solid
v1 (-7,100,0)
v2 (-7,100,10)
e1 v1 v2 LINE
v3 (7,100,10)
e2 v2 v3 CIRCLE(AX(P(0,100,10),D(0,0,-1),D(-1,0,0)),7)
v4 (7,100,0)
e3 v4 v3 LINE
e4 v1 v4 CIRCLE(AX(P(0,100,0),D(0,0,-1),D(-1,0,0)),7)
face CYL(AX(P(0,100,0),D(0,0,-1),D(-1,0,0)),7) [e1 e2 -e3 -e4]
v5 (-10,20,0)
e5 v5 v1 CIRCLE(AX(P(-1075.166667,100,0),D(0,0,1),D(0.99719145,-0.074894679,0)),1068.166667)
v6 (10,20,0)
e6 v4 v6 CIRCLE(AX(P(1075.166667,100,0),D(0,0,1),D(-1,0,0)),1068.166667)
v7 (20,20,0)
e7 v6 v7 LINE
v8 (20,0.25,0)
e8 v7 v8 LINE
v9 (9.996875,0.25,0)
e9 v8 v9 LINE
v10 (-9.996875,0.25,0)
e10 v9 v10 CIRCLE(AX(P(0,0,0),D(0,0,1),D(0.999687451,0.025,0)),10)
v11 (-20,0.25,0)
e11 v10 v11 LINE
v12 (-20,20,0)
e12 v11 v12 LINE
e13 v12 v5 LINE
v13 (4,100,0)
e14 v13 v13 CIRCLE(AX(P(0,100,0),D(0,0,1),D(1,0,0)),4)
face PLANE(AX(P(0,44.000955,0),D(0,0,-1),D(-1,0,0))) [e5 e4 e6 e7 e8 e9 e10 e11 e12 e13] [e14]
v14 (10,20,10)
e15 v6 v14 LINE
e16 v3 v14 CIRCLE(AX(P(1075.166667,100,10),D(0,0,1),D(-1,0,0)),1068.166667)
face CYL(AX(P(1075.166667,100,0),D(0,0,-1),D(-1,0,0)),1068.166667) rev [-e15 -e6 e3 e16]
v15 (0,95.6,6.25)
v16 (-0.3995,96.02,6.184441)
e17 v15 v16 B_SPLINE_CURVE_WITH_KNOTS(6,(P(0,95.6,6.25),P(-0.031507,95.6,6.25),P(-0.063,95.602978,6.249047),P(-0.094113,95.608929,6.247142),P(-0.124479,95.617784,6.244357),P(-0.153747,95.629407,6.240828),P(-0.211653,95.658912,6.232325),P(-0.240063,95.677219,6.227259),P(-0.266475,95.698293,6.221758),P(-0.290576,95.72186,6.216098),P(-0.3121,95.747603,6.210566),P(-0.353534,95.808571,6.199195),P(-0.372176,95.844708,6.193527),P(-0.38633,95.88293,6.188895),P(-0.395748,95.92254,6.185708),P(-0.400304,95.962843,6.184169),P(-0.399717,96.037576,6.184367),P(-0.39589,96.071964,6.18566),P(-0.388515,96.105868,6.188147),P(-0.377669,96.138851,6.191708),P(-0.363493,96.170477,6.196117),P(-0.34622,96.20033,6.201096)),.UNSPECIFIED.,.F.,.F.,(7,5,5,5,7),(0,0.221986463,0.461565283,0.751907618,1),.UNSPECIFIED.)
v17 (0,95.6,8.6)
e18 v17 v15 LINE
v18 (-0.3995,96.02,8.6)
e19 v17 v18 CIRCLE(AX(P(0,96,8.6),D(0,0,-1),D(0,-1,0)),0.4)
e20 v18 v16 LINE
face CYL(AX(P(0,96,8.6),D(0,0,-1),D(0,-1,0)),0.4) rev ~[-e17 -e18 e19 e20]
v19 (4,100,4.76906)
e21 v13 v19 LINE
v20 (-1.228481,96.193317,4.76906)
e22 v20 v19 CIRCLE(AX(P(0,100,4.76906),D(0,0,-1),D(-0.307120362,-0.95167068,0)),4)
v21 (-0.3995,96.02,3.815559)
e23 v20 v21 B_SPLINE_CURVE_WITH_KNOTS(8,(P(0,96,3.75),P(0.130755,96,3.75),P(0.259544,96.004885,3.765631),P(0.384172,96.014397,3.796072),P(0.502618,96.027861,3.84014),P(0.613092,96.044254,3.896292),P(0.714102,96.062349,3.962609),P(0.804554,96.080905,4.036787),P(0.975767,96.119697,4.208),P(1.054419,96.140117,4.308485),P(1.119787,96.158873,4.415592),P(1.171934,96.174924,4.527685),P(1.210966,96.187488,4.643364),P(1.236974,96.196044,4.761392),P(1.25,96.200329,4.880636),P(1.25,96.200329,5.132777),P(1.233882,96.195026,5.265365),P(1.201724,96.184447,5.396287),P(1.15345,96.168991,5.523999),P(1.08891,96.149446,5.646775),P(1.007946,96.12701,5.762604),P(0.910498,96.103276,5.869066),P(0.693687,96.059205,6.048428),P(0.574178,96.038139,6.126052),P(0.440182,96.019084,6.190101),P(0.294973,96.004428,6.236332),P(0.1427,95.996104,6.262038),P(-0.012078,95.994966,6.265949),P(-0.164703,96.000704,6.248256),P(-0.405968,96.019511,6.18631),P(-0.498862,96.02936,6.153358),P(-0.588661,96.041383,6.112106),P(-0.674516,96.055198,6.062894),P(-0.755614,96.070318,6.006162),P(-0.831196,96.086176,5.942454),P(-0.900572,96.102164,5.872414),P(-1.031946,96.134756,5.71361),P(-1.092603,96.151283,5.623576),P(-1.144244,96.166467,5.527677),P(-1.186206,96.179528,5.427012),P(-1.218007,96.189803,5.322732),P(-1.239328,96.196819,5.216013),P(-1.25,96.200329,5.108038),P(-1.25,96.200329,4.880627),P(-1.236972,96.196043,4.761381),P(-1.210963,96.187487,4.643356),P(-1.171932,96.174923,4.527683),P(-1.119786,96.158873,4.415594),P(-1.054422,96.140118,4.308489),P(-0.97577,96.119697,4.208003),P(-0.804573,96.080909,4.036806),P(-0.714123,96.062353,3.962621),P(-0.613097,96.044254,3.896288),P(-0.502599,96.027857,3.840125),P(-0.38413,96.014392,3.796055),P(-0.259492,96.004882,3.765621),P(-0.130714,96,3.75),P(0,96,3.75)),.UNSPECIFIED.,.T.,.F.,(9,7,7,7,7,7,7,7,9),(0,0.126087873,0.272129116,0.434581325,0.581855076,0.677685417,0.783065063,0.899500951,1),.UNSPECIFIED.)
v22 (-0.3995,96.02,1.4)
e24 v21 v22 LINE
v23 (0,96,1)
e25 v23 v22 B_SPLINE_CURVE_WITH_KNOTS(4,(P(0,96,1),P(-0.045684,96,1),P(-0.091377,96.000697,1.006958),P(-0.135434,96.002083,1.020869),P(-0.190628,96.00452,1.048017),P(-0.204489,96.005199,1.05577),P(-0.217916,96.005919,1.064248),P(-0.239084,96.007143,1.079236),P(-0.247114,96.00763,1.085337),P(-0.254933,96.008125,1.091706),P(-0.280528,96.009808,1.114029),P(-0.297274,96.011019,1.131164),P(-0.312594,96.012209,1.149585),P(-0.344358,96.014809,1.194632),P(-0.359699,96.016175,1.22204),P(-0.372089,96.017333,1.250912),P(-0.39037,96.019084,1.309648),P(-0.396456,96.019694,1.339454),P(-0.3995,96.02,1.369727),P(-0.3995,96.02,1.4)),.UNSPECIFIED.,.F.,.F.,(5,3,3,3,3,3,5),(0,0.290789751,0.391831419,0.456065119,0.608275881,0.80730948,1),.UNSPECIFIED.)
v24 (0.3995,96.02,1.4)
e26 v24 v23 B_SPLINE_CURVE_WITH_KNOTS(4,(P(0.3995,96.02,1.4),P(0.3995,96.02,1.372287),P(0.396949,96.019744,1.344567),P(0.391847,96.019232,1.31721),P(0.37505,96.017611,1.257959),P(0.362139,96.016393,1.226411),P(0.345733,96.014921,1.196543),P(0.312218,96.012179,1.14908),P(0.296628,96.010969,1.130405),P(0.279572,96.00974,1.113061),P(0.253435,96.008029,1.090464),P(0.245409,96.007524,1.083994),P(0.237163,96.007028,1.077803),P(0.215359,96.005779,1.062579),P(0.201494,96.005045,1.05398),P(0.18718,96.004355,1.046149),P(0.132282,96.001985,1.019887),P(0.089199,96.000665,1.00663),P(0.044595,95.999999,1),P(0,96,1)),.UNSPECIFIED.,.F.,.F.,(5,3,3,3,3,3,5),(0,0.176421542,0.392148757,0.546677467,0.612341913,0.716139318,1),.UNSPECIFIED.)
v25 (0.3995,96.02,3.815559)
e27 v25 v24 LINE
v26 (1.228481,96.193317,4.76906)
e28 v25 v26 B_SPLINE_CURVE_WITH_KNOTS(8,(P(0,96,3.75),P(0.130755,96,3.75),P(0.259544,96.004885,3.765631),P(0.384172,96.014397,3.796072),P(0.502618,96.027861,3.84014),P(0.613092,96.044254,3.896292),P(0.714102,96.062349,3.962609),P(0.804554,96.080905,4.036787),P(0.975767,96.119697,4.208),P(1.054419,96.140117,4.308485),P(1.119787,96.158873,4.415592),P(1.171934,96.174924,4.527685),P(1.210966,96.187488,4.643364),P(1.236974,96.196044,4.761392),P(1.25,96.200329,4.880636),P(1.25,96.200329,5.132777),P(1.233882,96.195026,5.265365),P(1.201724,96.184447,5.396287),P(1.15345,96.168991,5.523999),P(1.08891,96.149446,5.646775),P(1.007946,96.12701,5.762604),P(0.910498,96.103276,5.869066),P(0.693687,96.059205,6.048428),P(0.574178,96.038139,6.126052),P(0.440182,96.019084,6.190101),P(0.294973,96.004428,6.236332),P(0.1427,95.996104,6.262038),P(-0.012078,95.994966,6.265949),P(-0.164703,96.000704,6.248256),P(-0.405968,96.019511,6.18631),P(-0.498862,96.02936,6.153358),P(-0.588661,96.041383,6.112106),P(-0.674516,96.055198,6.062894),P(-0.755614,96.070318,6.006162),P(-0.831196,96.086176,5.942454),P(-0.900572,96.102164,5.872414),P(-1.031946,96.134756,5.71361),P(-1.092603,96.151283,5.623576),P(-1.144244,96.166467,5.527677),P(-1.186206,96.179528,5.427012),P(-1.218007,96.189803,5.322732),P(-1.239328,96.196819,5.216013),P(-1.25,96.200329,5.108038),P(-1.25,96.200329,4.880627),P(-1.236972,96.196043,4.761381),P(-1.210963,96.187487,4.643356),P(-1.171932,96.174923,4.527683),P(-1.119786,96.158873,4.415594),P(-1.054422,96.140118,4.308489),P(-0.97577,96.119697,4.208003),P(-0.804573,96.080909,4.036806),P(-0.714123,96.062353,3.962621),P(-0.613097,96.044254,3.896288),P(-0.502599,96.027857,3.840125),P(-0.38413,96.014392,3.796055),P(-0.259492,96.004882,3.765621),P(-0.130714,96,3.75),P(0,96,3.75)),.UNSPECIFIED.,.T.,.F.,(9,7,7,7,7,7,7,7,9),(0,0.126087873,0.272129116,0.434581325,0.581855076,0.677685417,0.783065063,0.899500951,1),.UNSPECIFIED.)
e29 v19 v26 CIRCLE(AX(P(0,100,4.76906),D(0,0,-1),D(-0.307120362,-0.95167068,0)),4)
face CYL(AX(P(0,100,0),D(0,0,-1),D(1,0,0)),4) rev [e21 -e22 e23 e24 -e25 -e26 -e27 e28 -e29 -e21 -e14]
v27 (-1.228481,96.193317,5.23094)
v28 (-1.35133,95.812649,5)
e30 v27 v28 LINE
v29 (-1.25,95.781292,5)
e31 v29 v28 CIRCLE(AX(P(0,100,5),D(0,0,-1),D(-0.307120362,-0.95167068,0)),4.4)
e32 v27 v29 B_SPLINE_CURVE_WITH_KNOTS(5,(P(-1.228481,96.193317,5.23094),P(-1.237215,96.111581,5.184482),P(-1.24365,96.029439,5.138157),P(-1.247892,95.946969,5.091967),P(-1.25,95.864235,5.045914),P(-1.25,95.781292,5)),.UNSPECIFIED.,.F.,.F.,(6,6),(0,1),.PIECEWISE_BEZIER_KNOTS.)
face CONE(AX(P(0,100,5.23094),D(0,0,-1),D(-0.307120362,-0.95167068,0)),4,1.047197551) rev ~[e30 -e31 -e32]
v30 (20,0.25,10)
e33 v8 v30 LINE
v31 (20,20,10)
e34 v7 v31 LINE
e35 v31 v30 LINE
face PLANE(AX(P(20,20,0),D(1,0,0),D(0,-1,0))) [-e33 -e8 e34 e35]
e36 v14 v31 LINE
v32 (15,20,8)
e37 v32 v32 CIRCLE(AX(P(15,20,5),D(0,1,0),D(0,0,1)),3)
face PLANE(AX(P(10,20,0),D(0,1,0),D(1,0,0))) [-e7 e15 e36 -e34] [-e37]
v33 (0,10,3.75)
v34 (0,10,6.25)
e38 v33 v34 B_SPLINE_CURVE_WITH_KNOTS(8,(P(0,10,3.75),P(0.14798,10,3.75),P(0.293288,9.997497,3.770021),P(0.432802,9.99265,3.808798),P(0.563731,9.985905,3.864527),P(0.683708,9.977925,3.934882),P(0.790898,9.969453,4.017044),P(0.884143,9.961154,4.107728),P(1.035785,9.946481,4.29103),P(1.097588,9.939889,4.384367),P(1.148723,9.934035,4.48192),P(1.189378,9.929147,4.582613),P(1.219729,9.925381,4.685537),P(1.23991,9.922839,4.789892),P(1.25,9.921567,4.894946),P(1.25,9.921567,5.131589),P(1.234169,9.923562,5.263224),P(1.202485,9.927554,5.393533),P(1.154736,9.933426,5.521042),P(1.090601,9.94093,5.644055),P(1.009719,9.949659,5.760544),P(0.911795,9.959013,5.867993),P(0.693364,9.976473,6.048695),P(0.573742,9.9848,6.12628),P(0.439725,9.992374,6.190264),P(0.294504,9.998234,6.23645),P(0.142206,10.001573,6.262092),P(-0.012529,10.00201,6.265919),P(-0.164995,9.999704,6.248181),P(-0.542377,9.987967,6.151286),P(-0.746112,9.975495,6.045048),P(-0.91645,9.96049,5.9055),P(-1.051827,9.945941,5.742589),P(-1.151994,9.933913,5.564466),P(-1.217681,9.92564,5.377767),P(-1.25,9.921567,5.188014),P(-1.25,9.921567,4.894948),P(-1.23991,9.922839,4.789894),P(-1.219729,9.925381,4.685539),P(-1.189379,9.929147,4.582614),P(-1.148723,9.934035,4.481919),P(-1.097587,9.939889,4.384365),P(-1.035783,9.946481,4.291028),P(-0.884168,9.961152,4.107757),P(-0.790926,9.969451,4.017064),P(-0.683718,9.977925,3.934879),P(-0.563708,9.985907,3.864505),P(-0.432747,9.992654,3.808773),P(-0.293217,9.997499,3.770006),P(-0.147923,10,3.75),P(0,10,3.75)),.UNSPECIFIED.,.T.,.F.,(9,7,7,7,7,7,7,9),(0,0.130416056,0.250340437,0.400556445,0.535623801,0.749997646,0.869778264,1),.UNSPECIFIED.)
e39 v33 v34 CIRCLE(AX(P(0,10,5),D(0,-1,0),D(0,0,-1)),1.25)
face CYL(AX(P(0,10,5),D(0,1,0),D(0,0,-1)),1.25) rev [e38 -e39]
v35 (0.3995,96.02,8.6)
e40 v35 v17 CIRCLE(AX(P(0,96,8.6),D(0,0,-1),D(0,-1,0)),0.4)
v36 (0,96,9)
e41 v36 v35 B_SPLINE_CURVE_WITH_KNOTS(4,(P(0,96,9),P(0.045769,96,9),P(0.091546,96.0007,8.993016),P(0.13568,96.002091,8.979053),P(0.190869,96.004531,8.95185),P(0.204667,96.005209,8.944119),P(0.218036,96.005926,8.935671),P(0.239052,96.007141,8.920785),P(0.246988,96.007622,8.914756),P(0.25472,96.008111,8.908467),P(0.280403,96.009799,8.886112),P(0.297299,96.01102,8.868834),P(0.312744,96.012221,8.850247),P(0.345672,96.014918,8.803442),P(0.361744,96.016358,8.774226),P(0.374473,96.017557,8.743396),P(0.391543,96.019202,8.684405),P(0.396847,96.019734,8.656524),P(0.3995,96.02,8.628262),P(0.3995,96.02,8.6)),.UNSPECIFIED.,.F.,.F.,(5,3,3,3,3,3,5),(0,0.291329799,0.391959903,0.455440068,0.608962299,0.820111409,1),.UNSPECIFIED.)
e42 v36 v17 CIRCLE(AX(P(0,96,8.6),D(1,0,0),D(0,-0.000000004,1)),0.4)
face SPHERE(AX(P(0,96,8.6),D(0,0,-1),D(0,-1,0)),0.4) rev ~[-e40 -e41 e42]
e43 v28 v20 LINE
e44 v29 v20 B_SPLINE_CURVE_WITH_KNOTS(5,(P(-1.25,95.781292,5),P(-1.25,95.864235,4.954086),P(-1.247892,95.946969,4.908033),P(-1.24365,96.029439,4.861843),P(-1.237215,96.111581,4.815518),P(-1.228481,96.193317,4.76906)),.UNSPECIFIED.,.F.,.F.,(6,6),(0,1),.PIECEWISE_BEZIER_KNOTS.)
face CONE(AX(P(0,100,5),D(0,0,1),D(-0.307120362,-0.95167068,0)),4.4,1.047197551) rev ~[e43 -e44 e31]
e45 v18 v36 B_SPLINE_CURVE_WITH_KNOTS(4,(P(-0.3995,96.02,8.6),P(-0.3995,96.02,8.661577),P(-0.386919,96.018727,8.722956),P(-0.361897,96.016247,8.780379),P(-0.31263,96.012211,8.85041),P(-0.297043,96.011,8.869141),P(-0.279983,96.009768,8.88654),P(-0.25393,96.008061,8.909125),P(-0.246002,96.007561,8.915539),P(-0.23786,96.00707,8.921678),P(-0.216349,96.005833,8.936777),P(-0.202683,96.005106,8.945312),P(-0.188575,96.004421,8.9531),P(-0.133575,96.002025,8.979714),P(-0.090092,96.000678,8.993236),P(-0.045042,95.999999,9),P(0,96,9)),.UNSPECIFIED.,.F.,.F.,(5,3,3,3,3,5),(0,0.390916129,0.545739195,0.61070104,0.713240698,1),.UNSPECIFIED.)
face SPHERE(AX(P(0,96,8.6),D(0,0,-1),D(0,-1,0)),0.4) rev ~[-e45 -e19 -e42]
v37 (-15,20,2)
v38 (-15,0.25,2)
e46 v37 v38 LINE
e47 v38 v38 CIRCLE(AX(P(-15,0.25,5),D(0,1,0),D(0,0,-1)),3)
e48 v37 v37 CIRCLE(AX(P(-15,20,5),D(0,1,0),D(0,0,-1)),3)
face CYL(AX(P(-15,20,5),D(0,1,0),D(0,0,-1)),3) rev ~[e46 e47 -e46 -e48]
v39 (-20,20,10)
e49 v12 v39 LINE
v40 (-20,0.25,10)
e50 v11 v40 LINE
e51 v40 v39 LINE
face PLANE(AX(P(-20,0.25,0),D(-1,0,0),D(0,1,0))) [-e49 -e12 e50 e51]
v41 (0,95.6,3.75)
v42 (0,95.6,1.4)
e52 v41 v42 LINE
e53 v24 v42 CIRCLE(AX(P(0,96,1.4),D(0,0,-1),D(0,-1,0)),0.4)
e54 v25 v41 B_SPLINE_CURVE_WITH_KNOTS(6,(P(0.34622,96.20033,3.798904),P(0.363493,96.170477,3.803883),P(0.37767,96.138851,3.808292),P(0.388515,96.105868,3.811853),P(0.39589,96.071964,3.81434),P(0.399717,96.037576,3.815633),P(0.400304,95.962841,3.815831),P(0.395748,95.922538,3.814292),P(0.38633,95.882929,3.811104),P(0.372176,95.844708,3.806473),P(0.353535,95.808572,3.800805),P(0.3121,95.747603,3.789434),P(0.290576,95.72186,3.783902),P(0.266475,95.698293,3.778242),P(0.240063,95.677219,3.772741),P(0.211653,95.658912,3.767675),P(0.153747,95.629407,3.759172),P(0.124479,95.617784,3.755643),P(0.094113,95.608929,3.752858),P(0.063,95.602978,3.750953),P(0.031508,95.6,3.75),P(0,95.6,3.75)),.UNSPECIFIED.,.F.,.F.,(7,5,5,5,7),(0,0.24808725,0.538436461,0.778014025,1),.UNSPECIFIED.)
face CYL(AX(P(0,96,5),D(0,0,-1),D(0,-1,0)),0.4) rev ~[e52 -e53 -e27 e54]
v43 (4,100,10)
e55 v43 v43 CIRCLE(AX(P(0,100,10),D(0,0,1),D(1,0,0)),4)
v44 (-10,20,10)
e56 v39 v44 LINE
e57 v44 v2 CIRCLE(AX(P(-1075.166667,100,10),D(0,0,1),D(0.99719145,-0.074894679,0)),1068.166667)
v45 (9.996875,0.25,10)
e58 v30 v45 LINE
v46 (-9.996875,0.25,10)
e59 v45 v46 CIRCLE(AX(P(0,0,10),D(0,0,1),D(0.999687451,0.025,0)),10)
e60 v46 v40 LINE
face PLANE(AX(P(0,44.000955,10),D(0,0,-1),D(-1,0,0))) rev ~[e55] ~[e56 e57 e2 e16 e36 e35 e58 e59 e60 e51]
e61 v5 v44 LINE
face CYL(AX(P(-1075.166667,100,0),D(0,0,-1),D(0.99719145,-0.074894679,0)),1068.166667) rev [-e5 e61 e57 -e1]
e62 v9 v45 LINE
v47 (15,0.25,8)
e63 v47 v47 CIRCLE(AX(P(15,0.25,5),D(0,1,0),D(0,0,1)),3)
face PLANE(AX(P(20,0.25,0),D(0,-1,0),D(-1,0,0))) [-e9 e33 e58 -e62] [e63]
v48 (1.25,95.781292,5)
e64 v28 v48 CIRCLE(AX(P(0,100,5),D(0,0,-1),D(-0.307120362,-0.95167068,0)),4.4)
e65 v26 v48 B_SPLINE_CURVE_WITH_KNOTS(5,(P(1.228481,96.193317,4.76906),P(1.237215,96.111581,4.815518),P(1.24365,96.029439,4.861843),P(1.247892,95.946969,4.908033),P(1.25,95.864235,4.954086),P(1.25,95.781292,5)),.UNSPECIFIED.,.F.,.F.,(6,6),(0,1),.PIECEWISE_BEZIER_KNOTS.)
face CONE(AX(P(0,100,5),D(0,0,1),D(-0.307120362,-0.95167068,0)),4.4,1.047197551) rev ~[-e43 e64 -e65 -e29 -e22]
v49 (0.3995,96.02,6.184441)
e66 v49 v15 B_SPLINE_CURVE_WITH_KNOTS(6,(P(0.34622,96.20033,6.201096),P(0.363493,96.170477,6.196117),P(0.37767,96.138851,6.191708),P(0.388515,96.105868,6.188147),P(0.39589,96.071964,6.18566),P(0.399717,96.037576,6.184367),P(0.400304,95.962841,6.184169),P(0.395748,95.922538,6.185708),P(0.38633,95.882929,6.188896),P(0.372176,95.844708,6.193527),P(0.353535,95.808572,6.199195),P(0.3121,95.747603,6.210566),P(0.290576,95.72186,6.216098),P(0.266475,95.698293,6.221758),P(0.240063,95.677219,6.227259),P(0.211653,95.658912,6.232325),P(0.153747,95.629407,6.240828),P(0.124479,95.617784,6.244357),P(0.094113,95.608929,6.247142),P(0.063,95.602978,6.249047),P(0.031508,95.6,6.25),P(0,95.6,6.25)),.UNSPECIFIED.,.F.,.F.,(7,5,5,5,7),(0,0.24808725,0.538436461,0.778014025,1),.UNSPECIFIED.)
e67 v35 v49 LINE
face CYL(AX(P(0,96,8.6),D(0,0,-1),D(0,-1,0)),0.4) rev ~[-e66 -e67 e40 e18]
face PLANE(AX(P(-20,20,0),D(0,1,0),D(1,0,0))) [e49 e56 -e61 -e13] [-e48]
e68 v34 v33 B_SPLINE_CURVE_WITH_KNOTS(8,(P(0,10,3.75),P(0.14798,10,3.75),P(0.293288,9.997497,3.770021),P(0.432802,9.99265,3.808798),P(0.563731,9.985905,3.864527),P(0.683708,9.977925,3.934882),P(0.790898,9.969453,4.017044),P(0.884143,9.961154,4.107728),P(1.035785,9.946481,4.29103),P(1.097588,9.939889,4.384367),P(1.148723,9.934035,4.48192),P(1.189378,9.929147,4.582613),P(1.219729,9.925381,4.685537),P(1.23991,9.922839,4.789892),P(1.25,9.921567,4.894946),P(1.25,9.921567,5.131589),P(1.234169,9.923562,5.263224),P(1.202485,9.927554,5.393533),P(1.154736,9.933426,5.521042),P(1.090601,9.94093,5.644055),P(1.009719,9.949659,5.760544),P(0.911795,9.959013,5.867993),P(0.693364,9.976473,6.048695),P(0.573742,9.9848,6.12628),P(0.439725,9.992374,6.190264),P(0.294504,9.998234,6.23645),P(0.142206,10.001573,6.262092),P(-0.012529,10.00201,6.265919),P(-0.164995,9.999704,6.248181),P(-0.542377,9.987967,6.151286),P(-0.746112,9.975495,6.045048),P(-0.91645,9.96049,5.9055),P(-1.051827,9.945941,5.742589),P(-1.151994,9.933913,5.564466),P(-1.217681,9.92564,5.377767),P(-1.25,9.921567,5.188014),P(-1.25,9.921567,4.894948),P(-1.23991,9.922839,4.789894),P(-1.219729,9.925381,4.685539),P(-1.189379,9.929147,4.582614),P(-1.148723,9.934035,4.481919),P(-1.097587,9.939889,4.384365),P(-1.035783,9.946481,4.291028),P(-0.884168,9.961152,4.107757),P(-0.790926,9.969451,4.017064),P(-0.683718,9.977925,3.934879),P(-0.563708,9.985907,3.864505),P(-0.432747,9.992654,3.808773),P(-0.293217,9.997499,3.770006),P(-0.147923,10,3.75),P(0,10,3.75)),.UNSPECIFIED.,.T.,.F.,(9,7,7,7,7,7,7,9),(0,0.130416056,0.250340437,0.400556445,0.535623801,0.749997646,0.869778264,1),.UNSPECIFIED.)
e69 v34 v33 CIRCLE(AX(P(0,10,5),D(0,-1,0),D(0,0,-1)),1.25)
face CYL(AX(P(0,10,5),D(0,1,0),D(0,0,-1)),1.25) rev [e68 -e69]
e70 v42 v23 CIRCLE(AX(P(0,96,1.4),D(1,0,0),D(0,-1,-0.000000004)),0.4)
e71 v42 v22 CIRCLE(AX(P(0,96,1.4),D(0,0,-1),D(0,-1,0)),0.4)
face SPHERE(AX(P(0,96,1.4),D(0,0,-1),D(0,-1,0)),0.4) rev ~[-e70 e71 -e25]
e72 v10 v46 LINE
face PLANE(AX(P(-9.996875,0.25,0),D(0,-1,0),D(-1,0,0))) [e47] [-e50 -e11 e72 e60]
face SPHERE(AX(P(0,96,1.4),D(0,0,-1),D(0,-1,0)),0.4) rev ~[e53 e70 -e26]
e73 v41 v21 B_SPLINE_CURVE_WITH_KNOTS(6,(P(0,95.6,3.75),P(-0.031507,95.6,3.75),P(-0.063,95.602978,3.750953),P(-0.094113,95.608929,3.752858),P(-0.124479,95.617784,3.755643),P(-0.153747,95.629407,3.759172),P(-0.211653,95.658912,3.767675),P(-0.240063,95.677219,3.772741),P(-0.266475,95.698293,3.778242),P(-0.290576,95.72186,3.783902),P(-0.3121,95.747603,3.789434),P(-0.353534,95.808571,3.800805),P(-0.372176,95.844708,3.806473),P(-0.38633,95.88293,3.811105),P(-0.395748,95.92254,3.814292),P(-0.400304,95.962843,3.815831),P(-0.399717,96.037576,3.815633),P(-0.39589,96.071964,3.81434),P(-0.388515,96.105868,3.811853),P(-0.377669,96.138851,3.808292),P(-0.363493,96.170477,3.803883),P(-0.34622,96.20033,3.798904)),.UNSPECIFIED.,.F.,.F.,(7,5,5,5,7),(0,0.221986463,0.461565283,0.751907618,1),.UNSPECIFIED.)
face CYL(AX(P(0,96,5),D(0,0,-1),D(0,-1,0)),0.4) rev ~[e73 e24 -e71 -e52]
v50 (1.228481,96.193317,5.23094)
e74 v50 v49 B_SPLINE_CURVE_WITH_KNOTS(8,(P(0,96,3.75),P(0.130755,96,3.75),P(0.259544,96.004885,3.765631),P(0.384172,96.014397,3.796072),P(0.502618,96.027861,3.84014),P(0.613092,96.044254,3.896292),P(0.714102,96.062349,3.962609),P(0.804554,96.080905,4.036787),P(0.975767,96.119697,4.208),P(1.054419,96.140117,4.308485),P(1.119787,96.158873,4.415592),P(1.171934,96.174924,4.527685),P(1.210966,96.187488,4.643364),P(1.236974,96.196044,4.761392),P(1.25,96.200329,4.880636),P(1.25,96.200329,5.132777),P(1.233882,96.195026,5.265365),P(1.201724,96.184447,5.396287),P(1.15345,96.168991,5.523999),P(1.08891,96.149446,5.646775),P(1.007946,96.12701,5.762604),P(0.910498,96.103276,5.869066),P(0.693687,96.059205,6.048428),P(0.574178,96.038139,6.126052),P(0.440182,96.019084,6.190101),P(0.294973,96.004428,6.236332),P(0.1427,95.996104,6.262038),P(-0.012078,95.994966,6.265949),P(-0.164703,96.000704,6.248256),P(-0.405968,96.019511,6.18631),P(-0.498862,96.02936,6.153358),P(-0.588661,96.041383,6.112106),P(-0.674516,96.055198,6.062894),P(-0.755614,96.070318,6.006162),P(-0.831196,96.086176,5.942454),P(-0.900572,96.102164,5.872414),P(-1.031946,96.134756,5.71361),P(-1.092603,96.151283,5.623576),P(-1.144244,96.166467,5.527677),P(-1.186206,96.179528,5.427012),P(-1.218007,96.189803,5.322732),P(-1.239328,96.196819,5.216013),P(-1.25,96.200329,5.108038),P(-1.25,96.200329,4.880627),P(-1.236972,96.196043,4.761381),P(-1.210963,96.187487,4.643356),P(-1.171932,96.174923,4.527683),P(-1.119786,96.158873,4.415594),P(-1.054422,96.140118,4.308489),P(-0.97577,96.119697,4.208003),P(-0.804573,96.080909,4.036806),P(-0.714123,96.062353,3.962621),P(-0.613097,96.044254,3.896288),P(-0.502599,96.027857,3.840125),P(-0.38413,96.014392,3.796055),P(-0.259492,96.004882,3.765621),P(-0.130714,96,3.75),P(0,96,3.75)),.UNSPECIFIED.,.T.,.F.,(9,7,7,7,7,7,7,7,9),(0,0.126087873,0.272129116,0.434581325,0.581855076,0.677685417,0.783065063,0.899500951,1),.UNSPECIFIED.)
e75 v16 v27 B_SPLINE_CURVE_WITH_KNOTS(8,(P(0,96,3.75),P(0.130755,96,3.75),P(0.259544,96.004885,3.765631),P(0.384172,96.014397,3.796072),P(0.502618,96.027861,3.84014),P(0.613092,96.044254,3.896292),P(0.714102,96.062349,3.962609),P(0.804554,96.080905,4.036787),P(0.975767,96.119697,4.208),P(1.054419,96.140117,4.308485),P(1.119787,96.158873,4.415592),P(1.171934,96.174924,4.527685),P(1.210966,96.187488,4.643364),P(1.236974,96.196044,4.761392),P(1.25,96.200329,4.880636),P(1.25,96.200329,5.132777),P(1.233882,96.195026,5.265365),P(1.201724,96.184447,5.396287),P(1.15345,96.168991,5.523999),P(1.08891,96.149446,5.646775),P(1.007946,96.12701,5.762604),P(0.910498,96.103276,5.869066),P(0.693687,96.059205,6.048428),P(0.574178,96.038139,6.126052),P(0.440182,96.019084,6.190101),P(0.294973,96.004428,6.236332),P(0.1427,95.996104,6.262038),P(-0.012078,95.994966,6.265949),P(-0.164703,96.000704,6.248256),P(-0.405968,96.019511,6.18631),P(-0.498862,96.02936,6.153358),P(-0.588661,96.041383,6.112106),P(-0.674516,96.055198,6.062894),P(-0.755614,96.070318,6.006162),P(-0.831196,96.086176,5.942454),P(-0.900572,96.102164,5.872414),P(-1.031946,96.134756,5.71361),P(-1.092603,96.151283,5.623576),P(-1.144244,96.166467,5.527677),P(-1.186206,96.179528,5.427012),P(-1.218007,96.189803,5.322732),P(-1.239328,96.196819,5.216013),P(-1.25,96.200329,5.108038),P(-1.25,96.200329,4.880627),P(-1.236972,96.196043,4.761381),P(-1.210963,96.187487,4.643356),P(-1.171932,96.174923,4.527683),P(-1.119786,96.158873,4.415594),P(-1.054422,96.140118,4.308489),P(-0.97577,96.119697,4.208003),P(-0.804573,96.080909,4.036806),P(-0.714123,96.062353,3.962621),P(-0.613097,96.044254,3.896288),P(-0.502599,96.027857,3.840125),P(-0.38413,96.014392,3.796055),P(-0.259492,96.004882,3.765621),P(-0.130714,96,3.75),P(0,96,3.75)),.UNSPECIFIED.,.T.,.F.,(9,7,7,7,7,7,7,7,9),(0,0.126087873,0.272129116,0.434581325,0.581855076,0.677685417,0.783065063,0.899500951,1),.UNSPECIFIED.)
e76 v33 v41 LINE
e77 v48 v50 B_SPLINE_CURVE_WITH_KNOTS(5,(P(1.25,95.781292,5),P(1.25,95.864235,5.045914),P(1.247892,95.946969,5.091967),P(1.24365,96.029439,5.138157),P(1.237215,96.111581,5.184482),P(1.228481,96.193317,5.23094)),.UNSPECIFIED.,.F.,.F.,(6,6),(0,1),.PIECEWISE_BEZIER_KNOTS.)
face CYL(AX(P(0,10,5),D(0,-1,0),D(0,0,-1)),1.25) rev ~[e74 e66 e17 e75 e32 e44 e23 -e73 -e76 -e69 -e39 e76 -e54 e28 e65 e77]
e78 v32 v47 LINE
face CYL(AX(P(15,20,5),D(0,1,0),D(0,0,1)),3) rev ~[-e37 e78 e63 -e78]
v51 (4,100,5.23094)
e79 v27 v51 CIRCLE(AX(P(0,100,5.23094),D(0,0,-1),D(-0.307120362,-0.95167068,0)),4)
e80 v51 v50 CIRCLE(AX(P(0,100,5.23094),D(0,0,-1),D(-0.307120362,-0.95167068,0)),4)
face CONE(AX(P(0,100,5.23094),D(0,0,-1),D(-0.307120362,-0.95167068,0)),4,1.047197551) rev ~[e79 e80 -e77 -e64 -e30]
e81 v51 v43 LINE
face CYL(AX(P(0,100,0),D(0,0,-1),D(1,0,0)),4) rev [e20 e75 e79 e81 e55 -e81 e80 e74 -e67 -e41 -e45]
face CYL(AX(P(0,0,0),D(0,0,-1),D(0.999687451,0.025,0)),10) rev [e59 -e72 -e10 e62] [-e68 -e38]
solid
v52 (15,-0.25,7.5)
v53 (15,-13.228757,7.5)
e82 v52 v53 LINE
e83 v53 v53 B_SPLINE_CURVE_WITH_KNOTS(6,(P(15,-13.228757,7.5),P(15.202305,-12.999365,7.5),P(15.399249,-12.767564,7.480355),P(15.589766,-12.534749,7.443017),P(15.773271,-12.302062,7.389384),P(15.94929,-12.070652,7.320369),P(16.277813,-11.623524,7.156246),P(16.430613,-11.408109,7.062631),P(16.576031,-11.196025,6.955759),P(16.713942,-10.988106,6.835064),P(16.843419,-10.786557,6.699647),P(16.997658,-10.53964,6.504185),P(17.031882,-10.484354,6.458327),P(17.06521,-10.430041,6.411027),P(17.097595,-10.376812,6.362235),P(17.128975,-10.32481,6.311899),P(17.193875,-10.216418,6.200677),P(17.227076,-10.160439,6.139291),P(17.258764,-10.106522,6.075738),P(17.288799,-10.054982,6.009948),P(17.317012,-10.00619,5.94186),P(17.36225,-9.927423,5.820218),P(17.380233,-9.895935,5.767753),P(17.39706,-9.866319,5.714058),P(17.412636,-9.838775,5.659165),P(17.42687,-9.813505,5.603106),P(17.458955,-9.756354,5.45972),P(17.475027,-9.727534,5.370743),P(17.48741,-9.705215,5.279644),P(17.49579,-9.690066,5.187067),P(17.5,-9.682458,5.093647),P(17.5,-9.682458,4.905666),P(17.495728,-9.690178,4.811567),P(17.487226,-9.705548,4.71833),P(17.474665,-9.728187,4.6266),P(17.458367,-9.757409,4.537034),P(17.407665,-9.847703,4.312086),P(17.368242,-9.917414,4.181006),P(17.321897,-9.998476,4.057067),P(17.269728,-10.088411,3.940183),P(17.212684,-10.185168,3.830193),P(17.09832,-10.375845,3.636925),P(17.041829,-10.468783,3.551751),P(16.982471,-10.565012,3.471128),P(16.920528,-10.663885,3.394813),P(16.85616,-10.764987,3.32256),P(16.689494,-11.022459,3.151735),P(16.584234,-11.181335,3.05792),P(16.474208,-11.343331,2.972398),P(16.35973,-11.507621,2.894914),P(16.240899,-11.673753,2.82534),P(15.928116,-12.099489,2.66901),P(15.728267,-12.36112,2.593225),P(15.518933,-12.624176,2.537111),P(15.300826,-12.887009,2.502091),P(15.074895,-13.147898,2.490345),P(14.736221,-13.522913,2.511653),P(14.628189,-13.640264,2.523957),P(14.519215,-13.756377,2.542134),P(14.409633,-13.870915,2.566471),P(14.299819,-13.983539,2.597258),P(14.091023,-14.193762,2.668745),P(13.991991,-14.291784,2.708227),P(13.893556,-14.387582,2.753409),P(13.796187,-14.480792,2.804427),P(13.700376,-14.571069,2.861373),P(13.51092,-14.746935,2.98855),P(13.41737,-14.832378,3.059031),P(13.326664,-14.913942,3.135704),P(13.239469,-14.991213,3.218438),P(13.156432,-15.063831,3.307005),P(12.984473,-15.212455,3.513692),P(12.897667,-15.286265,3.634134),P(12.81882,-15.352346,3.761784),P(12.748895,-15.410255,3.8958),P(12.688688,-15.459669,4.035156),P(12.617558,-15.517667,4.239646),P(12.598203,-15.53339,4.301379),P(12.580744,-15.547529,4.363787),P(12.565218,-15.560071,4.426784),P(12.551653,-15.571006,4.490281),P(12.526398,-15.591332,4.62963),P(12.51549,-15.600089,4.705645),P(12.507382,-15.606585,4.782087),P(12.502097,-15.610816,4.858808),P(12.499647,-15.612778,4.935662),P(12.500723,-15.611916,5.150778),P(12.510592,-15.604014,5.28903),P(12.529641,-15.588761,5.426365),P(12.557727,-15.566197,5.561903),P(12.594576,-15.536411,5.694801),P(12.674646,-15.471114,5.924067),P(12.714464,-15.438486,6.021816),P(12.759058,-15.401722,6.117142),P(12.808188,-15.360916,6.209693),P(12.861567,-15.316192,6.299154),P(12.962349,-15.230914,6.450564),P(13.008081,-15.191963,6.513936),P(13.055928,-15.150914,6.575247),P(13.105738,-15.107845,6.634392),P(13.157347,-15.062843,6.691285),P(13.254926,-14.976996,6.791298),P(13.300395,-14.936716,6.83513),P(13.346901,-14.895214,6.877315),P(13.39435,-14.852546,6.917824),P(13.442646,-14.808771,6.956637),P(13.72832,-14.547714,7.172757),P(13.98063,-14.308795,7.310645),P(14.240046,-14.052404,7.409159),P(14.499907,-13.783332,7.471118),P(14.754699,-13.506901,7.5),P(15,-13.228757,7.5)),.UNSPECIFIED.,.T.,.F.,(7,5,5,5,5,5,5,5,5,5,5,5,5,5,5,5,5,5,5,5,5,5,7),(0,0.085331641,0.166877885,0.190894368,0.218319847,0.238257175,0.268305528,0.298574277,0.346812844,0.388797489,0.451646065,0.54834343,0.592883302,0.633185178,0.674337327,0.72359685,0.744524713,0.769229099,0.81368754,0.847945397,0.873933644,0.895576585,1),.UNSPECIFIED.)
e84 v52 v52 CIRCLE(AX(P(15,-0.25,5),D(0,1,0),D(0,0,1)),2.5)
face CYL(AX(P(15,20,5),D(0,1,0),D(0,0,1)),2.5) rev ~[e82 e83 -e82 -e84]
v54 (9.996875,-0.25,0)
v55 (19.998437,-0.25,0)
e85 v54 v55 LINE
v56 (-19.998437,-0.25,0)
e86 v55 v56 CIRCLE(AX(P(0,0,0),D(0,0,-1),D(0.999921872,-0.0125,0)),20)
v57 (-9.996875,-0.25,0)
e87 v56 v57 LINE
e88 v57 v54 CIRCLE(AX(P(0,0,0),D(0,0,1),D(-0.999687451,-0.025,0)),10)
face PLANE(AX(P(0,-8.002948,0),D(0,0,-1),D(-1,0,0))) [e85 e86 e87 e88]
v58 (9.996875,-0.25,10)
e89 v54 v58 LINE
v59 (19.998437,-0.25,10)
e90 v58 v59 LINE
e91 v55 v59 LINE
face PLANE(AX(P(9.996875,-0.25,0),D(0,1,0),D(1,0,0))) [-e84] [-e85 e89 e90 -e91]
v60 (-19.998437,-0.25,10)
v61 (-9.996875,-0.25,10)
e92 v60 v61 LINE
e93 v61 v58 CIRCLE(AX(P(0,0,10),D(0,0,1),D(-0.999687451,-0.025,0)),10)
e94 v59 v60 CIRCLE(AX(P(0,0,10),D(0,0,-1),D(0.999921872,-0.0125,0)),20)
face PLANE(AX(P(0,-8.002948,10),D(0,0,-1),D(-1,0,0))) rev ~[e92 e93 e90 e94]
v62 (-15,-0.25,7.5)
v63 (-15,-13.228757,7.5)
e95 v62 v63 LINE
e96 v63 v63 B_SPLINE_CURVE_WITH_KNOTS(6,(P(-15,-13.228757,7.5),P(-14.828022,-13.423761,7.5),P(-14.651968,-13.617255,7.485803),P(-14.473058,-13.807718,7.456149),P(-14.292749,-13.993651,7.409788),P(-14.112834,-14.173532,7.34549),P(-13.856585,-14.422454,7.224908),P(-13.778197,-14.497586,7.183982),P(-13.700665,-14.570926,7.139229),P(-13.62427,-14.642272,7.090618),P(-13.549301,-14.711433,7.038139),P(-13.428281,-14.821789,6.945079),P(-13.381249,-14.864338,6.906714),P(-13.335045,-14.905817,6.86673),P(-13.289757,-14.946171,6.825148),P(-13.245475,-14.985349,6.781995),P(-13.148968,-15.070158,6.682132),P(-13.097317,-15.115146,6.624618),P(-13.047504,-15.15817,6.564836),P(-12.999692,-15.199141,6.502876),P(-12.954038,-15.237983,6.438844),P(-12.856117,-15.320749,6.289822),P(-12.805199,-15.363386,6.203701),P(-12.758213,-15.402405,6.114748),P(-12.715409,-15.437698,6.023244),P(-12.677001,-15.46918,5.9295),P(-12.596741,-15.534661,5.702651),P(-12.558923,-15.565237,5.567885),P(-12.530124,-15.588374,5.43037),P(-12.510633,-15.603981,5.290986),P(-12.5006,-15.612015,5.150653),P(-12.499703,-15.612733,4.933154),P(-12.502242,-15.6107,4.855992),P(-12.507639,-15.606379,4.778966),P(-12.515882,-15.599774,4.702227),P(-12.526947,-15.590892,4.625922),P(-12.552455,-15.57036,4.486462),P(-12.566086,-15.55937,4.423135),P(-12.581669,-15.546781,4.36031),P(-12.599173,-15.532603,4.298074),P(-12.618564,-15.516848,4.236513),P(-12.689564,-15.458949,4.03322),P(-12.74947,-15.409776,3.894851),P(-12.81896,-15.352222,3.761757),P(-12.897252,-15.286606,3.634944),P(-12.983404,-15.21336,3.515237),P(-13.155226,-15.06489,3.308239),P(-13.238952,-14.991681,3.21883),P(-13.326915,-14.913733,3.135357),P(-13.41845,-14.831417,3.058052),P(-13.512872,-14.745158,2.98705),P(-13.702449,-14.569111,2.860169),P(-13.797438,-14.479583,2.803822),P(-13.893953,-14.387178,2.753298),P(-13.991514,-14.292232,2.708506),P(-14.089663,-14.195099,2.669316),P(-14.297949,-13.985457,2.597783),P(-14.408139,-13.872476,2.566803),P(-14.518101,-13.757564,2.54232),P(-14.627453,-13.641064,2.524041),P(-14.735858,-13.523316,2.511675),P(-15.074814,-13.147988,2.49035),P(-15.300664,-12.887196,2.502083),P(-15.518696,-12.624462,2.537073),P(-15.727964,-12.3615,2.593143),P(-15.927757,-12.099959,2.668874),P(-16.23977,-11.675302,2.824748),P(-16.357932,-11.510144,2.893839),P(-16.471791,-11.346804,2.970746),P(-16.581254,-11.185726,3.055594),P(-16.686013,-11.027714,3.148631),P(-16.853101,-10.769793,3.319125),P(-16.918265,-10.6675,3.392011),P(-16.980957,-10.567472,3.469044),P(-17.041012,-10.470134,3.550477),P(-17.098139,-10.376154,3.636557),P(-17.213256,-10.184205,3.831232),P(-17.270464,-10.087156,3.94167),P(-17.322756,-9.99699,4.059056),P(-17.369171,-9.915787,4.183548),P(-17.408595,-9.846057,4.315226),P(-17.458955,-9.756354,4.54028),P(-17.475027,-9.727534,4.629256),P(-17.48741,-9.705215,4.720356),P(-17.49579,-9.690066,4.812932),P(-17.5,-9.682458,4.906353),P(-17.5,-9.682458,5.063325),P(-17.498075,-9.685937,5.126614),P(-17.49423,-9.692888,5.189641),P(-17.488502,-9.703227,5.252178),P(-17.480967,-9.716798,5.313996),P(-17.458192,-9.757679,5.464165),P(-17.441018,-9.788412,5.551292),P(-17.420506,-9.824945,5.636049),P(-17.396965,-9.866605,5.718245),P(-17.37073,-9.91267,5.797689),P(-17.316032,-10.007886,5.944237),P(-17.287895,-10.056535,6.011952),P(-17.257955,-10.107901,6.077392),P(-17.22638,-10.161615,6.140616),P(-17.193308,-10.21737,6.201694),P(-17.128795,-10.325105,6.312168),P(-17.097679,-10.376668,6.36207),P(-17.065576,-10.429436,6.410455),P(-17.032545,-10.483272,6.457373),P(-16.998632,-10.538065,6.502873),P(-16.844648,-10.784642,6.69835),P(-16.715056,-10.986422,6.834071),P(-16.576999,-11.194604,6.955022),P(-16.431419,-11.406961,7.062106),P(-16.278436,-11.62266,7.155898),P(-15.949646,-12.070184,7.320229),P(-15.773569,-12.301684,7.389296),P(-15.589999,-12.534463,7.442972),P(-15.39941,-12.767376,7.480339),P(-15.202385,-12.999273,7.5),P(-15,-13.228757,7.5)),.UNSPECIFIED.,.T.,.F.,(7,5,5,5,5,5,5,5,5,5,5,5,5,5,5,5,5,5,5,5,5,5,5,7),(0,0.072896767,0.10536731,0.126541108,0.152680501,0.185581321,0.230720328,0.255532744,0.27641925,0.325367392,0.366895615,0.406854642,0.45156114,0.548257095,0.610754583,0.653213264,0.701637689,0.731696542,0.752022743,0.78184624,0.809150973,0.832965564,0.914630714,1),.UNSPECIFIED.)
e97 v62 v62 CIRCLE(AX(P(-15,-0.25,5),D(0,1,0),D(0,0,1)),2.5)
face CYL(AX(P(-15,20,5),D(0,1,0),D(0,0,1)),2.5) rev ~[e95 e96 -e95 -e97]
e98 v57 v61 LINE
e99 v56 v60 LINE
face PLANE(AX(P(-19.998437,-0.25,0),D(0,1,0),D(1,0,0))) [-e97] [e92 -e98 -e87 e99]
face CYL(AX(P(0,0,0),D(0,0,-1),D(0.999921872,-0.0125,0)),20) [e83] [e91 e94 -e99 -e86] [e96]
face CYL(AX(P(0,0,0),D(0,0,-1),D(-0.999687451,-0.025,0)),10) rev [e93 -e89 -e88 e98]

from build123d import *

# Parameters (mm, degrees)
SKETCH1_R                           = 4
BOSS_EXTRUDE1_DEPTH                 = 10
BOSS_EXTRUDE1_2_DEPTH               = 10
SKETCH2_R                           = 3
SKETCH2_R_2                         = 2.5
CUT_EXTRUDE1_DEPTH                  = 19.75
SKETCH2_2_R                         = 2.5
CUT_EXTRUDE2_DEPTH                  = 90.827612681
CUT_EXTRUDE3_REACH                  = 101.544
CUT_EXTRUDE3_END_RADIUS             = 4
SKETCH3_R                           = 1.25
CUT_EXTRUDE3_DIRECTION_2_REACH      = 101.544
CUT_EXTRUDE3_DIRECTION_2_END_RADIUS = 10


with BuildPart() as part:
    # Sketch1 → Boss-Extrude1 (new body)
    with BuildSketch(Plane.XY):
        with BuildLine():
            Line((-20, 0.25), (-20, 20))
            Line((-20, 20), (-10, 20))
            ThreePointArc((-10, 20), (-7.750263487, 59.971884881), (-7, 100))
            ThreePointArc((-7, 100), (0, 107), (7, 100))
            ThreePointArc((7, 100), (7.750263487, 59.971884881), (10, 20))
            Line((10, 20), (20, 20))
            Line((20, 20), (20, 0.25))
            Line((20, 0.25), (9.996874512, 0.25))
            ThreePointArc((9.996874512, 0.25), (0, 10), (-9.996874512, 0.25))
            Line((-9.996874512, 0.25), (-20, 0.25))
        make_face()
        with Locations((0, 100)):
            Circle(SKETCH1_R, mode=Mode.SUBTRACT)
    extrude(amount=BOSS_EXTRUDE1_DEPTH)

    # Sketch2 → Cut-Extrude1 (cut)
    # profile 1 of 2: a face of its own
    with BuildSketch(Plane(origin=(0, 20, 0), x_dir=(1, 0, 0), z_dir=(0, 1, 0))):
        with Locations(Location((15, -5, 0), (0, 0, 270))):
            Circle(SKETCH2_R)
        with Locations(Location((15, -5, 0), (0, 0, 270))):
            Circle(SKETCH2_R_2, mode=Mode.SUBTRACT)
    # profile 2 of 2: a face of its own
    with BuildSketch(Plane(origin=(0, 20, 0), x_dir=(1, 0, 0), z_dir=(0, 1, 0))):
        with Locations(Location((-15, -5, 0), (0, 0, 90))):
            Circle(SKETCH2_R)
        with Locations(Location((-15, -5, 0), (0, 0, 90))):
            Circle(SKETCH2_R_2, mode=Mode.SUBTRACT)
    extrude(amount=-CUT_EXTRUDE1_DEPTH, mode=Mode.SUBTRACT)


with BuildPart() as body_2:
    # Sketch1 → Boss-Extrude1 2 (new body)
    with BuildSketch(Plane.XY):
        with BuildLine():
            Line((-19.998437439, -0.25), (-9.996874512, -0.25))
            ThreePointArc((-9.996874512, -0.25), (0, -10), (9.996874512, -0.25))
            Line((9.996874512, -0.25), (19.998437439, -0.25))
            ThreePointArc((19.998437439, -0.25), (0, -20), (-19.998437439, -0.25))
        make_face()
    extrude(amount=BOSS_EXTRUDE1_2_DEPTH)


with BuildPart() as cut_extrude1_piece_1:
    # of the separate pieces the step leaves, piece 1, a body of its own (cut_extrude1_pieces)
    add(part.part.solids().sort_by_distance((-9.996874512, 0.25, 0))[0])

    # Cut-Extrude3: up to this cylinder (the profile starts outside it)
    cut_extrude3_end = Plane(origin=(0, 100, 5), z_dir=(0, 0, -1)) * Cylinder(CUT_EXTRUDE3_END_RADIUS, 212.088, mode=Mode.PRIVATE)
    # Sketch3 → Cut-Extrude3 (cut, up to the surface)
    with BuildSketch(Plane(origin=(0, 10, 0), x_dir=(-1, 0, 0), z_dir=(0, -1, 0)), mode=Mode.PRIVATE) as cut_extrude3_sk1:
        with Locations(Location((0, -5, 0), (0, 0, 90))):
            Circle(SKETCH3_R)
    cut_extrude3_tool1 = extrude(cut_extrude3_sk1.sketch, amount=-CUT_EXTRUDE3_REACH, mode=Mode.PRIVATE) - cut_extrude3_end
    add(cut_extrude3_tool1.solids().sort_by_distance((0, 10, 5))[0], mode=Mode.SUBTRACT)

    # Cut-Extrude3 direction 2: up to this cylinder (the profile starts outside it)
    cut_extrude3_direction_2_end = Plane(origin=(0, 0, 5), z_dir=(0, 0, -1)) * Cylinder(CUT_EXTRUDE3_DIRECTION_2_END_RADIUS, 224.088, mode=Mode.PRIVATE)
    # Sketch3 → Cut-Extrude3 direction 2 (cut, up to the surface)
    with BuildSketch(Plane(origin=(0, 10, 0), x_dir=(-1, 0, 0), z_dir=(0, -1, 0)), mode=Mode.PRIVATE) as cut_extrude3_direction_2_sk1:
        with Locations(Location((0, -5, 0), (0, 0, 90))):
            Circle(SKETCH3_R)
    cut_extrude3_direction_2_tool1 = extrude(cut_extrude3_direction_2_sk1.sketch, amount=CUT_EXTRUDE3_DIRECTION_2_REACH, mode=Mode.PRIVATE) - cut_extrude3_direction_2_end
    add(cut_extrude3_direction_2_tool1.solids().sort_by_distance((0, 10, 5))[0], mode=Mode.SUBTRACT)
    add(cut_extrude3_direction_2_tool1.solids().sort_by_distance((0, 10, 5))[1], mode=Mode.SUBTRACT)

    # Sketch5 → Cut-Revolve1 (revolve, cut)
    with BuildSketch(Plane(origin=(0, 0, 0), x_dir=(0, 0, -1), z_dir=(1, 0, 0))):
        with BuildLine():
            Line((-5, 95.6), (-5.230940108, 96))
            Line((-5.230940108, 96), (-9, 96))
            ThreePointArc((-9, 96), (-8.882842712, 95.717157288), (-8.6, 95.6))
            Line((-8.6, 95.6), (-5, 95.6))
        make_face()
        with BuildLine():
            ThreePointArc((-1.4, 95.6), (-1.117157288, 95.717157288), (-1, 96))
            Line((-1, 96), (-4.769059892, 96))
            Line((-4.769059892, 96), (-5, 95.6))
            Line((-5, 95.6), (-1.4, 95.6))
        make_face()
    revolve(axis=Axis((0, 96, 10), (0, 0, -1)), mode=Mode.SUBTRACT)

    # Sketch5<5> → Cut-Revolve2 (revolve, cut)
    with BuildSketch(Plane(origin=(0, 0, 0), x_dir=(0, 0, -1), z_dir=(1, 0, 0)), mode=Mode.PRIVATE) as cut_revolve2_sk:
        Polygon((-5, 95.6), (-4.769059892, 96), (-5.230940108, 96), align=None)
    revolve(cut_revolve2_sk.sketch.rotate(Axis((0, 100, 10), (0, 0, -1)), 17.88577553), axis=Axis((0, 100, 10), (0, 0, -1)), mode=Mode.SUBTRACT)


with BuildPart() as cut_extrude1_piece_2:
    # of the separate pieces the step leaves, piece 2, a body of its own (cut_extrude1_pieces)
    add(part.part.solids().sort_by_distance((-15, 0.25, 2.5))[0])


with BuildPart() as cut_extrude1_piece_3:
    # of the separate pieces the step leaves, piece 3, a body of its own (cut_extrude1_pieces)
    add(part.part.solids().sort_by_distance((15, 0.25, 7.5))[0])


with BuildPart() as cut_extrude2_tool:
    # Sketch2<2> → Cut-Extrude2 (new, through all)
    with BuildSketch(Plane(origin=(0, 20, 0), x_dir=(1, 0, 0), z_dir=(0, 1, 0))):
        with Locations(Location((-15, -5, 0), (0, 0, 270))):
            Circle(SKETCH2_2_R)
        with Locations(Location((15, -5, 0), (0, 0, 270))):
            Circle(SKETCH2_2_R)
    extrude(amount=-CUT_EXTRUDE2_DEPTH)


with BuildPart() as body_2_1:
    add(body_2.part)

    # Cut-Extrude2: cut by cut_extrude2_tool
    add(cut_extrude2_tool.part, mode=Mode.SUBTRACT)


with BuildPart() as cut_extrude1_piece_2_1:
    add(cut_extrude1_piece_2.part)

    # Cut-Extrude2: cut by cut_extrude2_tool
    add(cut_extrude2_tool.part, mode=Mode.SUBTRACT)


with BuildPart() as cut_extrude1_piece_3_1:
    add(cut_extrude1_piece_3.part)

    # Cut-Extrude2: cut by cut_extrude2_tool
    add(cut_extrude2_tool.part, mode=Mode.SUBTRACT)


solid = Compound([cut_extrude1_piece_1.part, body_2_1.part])
